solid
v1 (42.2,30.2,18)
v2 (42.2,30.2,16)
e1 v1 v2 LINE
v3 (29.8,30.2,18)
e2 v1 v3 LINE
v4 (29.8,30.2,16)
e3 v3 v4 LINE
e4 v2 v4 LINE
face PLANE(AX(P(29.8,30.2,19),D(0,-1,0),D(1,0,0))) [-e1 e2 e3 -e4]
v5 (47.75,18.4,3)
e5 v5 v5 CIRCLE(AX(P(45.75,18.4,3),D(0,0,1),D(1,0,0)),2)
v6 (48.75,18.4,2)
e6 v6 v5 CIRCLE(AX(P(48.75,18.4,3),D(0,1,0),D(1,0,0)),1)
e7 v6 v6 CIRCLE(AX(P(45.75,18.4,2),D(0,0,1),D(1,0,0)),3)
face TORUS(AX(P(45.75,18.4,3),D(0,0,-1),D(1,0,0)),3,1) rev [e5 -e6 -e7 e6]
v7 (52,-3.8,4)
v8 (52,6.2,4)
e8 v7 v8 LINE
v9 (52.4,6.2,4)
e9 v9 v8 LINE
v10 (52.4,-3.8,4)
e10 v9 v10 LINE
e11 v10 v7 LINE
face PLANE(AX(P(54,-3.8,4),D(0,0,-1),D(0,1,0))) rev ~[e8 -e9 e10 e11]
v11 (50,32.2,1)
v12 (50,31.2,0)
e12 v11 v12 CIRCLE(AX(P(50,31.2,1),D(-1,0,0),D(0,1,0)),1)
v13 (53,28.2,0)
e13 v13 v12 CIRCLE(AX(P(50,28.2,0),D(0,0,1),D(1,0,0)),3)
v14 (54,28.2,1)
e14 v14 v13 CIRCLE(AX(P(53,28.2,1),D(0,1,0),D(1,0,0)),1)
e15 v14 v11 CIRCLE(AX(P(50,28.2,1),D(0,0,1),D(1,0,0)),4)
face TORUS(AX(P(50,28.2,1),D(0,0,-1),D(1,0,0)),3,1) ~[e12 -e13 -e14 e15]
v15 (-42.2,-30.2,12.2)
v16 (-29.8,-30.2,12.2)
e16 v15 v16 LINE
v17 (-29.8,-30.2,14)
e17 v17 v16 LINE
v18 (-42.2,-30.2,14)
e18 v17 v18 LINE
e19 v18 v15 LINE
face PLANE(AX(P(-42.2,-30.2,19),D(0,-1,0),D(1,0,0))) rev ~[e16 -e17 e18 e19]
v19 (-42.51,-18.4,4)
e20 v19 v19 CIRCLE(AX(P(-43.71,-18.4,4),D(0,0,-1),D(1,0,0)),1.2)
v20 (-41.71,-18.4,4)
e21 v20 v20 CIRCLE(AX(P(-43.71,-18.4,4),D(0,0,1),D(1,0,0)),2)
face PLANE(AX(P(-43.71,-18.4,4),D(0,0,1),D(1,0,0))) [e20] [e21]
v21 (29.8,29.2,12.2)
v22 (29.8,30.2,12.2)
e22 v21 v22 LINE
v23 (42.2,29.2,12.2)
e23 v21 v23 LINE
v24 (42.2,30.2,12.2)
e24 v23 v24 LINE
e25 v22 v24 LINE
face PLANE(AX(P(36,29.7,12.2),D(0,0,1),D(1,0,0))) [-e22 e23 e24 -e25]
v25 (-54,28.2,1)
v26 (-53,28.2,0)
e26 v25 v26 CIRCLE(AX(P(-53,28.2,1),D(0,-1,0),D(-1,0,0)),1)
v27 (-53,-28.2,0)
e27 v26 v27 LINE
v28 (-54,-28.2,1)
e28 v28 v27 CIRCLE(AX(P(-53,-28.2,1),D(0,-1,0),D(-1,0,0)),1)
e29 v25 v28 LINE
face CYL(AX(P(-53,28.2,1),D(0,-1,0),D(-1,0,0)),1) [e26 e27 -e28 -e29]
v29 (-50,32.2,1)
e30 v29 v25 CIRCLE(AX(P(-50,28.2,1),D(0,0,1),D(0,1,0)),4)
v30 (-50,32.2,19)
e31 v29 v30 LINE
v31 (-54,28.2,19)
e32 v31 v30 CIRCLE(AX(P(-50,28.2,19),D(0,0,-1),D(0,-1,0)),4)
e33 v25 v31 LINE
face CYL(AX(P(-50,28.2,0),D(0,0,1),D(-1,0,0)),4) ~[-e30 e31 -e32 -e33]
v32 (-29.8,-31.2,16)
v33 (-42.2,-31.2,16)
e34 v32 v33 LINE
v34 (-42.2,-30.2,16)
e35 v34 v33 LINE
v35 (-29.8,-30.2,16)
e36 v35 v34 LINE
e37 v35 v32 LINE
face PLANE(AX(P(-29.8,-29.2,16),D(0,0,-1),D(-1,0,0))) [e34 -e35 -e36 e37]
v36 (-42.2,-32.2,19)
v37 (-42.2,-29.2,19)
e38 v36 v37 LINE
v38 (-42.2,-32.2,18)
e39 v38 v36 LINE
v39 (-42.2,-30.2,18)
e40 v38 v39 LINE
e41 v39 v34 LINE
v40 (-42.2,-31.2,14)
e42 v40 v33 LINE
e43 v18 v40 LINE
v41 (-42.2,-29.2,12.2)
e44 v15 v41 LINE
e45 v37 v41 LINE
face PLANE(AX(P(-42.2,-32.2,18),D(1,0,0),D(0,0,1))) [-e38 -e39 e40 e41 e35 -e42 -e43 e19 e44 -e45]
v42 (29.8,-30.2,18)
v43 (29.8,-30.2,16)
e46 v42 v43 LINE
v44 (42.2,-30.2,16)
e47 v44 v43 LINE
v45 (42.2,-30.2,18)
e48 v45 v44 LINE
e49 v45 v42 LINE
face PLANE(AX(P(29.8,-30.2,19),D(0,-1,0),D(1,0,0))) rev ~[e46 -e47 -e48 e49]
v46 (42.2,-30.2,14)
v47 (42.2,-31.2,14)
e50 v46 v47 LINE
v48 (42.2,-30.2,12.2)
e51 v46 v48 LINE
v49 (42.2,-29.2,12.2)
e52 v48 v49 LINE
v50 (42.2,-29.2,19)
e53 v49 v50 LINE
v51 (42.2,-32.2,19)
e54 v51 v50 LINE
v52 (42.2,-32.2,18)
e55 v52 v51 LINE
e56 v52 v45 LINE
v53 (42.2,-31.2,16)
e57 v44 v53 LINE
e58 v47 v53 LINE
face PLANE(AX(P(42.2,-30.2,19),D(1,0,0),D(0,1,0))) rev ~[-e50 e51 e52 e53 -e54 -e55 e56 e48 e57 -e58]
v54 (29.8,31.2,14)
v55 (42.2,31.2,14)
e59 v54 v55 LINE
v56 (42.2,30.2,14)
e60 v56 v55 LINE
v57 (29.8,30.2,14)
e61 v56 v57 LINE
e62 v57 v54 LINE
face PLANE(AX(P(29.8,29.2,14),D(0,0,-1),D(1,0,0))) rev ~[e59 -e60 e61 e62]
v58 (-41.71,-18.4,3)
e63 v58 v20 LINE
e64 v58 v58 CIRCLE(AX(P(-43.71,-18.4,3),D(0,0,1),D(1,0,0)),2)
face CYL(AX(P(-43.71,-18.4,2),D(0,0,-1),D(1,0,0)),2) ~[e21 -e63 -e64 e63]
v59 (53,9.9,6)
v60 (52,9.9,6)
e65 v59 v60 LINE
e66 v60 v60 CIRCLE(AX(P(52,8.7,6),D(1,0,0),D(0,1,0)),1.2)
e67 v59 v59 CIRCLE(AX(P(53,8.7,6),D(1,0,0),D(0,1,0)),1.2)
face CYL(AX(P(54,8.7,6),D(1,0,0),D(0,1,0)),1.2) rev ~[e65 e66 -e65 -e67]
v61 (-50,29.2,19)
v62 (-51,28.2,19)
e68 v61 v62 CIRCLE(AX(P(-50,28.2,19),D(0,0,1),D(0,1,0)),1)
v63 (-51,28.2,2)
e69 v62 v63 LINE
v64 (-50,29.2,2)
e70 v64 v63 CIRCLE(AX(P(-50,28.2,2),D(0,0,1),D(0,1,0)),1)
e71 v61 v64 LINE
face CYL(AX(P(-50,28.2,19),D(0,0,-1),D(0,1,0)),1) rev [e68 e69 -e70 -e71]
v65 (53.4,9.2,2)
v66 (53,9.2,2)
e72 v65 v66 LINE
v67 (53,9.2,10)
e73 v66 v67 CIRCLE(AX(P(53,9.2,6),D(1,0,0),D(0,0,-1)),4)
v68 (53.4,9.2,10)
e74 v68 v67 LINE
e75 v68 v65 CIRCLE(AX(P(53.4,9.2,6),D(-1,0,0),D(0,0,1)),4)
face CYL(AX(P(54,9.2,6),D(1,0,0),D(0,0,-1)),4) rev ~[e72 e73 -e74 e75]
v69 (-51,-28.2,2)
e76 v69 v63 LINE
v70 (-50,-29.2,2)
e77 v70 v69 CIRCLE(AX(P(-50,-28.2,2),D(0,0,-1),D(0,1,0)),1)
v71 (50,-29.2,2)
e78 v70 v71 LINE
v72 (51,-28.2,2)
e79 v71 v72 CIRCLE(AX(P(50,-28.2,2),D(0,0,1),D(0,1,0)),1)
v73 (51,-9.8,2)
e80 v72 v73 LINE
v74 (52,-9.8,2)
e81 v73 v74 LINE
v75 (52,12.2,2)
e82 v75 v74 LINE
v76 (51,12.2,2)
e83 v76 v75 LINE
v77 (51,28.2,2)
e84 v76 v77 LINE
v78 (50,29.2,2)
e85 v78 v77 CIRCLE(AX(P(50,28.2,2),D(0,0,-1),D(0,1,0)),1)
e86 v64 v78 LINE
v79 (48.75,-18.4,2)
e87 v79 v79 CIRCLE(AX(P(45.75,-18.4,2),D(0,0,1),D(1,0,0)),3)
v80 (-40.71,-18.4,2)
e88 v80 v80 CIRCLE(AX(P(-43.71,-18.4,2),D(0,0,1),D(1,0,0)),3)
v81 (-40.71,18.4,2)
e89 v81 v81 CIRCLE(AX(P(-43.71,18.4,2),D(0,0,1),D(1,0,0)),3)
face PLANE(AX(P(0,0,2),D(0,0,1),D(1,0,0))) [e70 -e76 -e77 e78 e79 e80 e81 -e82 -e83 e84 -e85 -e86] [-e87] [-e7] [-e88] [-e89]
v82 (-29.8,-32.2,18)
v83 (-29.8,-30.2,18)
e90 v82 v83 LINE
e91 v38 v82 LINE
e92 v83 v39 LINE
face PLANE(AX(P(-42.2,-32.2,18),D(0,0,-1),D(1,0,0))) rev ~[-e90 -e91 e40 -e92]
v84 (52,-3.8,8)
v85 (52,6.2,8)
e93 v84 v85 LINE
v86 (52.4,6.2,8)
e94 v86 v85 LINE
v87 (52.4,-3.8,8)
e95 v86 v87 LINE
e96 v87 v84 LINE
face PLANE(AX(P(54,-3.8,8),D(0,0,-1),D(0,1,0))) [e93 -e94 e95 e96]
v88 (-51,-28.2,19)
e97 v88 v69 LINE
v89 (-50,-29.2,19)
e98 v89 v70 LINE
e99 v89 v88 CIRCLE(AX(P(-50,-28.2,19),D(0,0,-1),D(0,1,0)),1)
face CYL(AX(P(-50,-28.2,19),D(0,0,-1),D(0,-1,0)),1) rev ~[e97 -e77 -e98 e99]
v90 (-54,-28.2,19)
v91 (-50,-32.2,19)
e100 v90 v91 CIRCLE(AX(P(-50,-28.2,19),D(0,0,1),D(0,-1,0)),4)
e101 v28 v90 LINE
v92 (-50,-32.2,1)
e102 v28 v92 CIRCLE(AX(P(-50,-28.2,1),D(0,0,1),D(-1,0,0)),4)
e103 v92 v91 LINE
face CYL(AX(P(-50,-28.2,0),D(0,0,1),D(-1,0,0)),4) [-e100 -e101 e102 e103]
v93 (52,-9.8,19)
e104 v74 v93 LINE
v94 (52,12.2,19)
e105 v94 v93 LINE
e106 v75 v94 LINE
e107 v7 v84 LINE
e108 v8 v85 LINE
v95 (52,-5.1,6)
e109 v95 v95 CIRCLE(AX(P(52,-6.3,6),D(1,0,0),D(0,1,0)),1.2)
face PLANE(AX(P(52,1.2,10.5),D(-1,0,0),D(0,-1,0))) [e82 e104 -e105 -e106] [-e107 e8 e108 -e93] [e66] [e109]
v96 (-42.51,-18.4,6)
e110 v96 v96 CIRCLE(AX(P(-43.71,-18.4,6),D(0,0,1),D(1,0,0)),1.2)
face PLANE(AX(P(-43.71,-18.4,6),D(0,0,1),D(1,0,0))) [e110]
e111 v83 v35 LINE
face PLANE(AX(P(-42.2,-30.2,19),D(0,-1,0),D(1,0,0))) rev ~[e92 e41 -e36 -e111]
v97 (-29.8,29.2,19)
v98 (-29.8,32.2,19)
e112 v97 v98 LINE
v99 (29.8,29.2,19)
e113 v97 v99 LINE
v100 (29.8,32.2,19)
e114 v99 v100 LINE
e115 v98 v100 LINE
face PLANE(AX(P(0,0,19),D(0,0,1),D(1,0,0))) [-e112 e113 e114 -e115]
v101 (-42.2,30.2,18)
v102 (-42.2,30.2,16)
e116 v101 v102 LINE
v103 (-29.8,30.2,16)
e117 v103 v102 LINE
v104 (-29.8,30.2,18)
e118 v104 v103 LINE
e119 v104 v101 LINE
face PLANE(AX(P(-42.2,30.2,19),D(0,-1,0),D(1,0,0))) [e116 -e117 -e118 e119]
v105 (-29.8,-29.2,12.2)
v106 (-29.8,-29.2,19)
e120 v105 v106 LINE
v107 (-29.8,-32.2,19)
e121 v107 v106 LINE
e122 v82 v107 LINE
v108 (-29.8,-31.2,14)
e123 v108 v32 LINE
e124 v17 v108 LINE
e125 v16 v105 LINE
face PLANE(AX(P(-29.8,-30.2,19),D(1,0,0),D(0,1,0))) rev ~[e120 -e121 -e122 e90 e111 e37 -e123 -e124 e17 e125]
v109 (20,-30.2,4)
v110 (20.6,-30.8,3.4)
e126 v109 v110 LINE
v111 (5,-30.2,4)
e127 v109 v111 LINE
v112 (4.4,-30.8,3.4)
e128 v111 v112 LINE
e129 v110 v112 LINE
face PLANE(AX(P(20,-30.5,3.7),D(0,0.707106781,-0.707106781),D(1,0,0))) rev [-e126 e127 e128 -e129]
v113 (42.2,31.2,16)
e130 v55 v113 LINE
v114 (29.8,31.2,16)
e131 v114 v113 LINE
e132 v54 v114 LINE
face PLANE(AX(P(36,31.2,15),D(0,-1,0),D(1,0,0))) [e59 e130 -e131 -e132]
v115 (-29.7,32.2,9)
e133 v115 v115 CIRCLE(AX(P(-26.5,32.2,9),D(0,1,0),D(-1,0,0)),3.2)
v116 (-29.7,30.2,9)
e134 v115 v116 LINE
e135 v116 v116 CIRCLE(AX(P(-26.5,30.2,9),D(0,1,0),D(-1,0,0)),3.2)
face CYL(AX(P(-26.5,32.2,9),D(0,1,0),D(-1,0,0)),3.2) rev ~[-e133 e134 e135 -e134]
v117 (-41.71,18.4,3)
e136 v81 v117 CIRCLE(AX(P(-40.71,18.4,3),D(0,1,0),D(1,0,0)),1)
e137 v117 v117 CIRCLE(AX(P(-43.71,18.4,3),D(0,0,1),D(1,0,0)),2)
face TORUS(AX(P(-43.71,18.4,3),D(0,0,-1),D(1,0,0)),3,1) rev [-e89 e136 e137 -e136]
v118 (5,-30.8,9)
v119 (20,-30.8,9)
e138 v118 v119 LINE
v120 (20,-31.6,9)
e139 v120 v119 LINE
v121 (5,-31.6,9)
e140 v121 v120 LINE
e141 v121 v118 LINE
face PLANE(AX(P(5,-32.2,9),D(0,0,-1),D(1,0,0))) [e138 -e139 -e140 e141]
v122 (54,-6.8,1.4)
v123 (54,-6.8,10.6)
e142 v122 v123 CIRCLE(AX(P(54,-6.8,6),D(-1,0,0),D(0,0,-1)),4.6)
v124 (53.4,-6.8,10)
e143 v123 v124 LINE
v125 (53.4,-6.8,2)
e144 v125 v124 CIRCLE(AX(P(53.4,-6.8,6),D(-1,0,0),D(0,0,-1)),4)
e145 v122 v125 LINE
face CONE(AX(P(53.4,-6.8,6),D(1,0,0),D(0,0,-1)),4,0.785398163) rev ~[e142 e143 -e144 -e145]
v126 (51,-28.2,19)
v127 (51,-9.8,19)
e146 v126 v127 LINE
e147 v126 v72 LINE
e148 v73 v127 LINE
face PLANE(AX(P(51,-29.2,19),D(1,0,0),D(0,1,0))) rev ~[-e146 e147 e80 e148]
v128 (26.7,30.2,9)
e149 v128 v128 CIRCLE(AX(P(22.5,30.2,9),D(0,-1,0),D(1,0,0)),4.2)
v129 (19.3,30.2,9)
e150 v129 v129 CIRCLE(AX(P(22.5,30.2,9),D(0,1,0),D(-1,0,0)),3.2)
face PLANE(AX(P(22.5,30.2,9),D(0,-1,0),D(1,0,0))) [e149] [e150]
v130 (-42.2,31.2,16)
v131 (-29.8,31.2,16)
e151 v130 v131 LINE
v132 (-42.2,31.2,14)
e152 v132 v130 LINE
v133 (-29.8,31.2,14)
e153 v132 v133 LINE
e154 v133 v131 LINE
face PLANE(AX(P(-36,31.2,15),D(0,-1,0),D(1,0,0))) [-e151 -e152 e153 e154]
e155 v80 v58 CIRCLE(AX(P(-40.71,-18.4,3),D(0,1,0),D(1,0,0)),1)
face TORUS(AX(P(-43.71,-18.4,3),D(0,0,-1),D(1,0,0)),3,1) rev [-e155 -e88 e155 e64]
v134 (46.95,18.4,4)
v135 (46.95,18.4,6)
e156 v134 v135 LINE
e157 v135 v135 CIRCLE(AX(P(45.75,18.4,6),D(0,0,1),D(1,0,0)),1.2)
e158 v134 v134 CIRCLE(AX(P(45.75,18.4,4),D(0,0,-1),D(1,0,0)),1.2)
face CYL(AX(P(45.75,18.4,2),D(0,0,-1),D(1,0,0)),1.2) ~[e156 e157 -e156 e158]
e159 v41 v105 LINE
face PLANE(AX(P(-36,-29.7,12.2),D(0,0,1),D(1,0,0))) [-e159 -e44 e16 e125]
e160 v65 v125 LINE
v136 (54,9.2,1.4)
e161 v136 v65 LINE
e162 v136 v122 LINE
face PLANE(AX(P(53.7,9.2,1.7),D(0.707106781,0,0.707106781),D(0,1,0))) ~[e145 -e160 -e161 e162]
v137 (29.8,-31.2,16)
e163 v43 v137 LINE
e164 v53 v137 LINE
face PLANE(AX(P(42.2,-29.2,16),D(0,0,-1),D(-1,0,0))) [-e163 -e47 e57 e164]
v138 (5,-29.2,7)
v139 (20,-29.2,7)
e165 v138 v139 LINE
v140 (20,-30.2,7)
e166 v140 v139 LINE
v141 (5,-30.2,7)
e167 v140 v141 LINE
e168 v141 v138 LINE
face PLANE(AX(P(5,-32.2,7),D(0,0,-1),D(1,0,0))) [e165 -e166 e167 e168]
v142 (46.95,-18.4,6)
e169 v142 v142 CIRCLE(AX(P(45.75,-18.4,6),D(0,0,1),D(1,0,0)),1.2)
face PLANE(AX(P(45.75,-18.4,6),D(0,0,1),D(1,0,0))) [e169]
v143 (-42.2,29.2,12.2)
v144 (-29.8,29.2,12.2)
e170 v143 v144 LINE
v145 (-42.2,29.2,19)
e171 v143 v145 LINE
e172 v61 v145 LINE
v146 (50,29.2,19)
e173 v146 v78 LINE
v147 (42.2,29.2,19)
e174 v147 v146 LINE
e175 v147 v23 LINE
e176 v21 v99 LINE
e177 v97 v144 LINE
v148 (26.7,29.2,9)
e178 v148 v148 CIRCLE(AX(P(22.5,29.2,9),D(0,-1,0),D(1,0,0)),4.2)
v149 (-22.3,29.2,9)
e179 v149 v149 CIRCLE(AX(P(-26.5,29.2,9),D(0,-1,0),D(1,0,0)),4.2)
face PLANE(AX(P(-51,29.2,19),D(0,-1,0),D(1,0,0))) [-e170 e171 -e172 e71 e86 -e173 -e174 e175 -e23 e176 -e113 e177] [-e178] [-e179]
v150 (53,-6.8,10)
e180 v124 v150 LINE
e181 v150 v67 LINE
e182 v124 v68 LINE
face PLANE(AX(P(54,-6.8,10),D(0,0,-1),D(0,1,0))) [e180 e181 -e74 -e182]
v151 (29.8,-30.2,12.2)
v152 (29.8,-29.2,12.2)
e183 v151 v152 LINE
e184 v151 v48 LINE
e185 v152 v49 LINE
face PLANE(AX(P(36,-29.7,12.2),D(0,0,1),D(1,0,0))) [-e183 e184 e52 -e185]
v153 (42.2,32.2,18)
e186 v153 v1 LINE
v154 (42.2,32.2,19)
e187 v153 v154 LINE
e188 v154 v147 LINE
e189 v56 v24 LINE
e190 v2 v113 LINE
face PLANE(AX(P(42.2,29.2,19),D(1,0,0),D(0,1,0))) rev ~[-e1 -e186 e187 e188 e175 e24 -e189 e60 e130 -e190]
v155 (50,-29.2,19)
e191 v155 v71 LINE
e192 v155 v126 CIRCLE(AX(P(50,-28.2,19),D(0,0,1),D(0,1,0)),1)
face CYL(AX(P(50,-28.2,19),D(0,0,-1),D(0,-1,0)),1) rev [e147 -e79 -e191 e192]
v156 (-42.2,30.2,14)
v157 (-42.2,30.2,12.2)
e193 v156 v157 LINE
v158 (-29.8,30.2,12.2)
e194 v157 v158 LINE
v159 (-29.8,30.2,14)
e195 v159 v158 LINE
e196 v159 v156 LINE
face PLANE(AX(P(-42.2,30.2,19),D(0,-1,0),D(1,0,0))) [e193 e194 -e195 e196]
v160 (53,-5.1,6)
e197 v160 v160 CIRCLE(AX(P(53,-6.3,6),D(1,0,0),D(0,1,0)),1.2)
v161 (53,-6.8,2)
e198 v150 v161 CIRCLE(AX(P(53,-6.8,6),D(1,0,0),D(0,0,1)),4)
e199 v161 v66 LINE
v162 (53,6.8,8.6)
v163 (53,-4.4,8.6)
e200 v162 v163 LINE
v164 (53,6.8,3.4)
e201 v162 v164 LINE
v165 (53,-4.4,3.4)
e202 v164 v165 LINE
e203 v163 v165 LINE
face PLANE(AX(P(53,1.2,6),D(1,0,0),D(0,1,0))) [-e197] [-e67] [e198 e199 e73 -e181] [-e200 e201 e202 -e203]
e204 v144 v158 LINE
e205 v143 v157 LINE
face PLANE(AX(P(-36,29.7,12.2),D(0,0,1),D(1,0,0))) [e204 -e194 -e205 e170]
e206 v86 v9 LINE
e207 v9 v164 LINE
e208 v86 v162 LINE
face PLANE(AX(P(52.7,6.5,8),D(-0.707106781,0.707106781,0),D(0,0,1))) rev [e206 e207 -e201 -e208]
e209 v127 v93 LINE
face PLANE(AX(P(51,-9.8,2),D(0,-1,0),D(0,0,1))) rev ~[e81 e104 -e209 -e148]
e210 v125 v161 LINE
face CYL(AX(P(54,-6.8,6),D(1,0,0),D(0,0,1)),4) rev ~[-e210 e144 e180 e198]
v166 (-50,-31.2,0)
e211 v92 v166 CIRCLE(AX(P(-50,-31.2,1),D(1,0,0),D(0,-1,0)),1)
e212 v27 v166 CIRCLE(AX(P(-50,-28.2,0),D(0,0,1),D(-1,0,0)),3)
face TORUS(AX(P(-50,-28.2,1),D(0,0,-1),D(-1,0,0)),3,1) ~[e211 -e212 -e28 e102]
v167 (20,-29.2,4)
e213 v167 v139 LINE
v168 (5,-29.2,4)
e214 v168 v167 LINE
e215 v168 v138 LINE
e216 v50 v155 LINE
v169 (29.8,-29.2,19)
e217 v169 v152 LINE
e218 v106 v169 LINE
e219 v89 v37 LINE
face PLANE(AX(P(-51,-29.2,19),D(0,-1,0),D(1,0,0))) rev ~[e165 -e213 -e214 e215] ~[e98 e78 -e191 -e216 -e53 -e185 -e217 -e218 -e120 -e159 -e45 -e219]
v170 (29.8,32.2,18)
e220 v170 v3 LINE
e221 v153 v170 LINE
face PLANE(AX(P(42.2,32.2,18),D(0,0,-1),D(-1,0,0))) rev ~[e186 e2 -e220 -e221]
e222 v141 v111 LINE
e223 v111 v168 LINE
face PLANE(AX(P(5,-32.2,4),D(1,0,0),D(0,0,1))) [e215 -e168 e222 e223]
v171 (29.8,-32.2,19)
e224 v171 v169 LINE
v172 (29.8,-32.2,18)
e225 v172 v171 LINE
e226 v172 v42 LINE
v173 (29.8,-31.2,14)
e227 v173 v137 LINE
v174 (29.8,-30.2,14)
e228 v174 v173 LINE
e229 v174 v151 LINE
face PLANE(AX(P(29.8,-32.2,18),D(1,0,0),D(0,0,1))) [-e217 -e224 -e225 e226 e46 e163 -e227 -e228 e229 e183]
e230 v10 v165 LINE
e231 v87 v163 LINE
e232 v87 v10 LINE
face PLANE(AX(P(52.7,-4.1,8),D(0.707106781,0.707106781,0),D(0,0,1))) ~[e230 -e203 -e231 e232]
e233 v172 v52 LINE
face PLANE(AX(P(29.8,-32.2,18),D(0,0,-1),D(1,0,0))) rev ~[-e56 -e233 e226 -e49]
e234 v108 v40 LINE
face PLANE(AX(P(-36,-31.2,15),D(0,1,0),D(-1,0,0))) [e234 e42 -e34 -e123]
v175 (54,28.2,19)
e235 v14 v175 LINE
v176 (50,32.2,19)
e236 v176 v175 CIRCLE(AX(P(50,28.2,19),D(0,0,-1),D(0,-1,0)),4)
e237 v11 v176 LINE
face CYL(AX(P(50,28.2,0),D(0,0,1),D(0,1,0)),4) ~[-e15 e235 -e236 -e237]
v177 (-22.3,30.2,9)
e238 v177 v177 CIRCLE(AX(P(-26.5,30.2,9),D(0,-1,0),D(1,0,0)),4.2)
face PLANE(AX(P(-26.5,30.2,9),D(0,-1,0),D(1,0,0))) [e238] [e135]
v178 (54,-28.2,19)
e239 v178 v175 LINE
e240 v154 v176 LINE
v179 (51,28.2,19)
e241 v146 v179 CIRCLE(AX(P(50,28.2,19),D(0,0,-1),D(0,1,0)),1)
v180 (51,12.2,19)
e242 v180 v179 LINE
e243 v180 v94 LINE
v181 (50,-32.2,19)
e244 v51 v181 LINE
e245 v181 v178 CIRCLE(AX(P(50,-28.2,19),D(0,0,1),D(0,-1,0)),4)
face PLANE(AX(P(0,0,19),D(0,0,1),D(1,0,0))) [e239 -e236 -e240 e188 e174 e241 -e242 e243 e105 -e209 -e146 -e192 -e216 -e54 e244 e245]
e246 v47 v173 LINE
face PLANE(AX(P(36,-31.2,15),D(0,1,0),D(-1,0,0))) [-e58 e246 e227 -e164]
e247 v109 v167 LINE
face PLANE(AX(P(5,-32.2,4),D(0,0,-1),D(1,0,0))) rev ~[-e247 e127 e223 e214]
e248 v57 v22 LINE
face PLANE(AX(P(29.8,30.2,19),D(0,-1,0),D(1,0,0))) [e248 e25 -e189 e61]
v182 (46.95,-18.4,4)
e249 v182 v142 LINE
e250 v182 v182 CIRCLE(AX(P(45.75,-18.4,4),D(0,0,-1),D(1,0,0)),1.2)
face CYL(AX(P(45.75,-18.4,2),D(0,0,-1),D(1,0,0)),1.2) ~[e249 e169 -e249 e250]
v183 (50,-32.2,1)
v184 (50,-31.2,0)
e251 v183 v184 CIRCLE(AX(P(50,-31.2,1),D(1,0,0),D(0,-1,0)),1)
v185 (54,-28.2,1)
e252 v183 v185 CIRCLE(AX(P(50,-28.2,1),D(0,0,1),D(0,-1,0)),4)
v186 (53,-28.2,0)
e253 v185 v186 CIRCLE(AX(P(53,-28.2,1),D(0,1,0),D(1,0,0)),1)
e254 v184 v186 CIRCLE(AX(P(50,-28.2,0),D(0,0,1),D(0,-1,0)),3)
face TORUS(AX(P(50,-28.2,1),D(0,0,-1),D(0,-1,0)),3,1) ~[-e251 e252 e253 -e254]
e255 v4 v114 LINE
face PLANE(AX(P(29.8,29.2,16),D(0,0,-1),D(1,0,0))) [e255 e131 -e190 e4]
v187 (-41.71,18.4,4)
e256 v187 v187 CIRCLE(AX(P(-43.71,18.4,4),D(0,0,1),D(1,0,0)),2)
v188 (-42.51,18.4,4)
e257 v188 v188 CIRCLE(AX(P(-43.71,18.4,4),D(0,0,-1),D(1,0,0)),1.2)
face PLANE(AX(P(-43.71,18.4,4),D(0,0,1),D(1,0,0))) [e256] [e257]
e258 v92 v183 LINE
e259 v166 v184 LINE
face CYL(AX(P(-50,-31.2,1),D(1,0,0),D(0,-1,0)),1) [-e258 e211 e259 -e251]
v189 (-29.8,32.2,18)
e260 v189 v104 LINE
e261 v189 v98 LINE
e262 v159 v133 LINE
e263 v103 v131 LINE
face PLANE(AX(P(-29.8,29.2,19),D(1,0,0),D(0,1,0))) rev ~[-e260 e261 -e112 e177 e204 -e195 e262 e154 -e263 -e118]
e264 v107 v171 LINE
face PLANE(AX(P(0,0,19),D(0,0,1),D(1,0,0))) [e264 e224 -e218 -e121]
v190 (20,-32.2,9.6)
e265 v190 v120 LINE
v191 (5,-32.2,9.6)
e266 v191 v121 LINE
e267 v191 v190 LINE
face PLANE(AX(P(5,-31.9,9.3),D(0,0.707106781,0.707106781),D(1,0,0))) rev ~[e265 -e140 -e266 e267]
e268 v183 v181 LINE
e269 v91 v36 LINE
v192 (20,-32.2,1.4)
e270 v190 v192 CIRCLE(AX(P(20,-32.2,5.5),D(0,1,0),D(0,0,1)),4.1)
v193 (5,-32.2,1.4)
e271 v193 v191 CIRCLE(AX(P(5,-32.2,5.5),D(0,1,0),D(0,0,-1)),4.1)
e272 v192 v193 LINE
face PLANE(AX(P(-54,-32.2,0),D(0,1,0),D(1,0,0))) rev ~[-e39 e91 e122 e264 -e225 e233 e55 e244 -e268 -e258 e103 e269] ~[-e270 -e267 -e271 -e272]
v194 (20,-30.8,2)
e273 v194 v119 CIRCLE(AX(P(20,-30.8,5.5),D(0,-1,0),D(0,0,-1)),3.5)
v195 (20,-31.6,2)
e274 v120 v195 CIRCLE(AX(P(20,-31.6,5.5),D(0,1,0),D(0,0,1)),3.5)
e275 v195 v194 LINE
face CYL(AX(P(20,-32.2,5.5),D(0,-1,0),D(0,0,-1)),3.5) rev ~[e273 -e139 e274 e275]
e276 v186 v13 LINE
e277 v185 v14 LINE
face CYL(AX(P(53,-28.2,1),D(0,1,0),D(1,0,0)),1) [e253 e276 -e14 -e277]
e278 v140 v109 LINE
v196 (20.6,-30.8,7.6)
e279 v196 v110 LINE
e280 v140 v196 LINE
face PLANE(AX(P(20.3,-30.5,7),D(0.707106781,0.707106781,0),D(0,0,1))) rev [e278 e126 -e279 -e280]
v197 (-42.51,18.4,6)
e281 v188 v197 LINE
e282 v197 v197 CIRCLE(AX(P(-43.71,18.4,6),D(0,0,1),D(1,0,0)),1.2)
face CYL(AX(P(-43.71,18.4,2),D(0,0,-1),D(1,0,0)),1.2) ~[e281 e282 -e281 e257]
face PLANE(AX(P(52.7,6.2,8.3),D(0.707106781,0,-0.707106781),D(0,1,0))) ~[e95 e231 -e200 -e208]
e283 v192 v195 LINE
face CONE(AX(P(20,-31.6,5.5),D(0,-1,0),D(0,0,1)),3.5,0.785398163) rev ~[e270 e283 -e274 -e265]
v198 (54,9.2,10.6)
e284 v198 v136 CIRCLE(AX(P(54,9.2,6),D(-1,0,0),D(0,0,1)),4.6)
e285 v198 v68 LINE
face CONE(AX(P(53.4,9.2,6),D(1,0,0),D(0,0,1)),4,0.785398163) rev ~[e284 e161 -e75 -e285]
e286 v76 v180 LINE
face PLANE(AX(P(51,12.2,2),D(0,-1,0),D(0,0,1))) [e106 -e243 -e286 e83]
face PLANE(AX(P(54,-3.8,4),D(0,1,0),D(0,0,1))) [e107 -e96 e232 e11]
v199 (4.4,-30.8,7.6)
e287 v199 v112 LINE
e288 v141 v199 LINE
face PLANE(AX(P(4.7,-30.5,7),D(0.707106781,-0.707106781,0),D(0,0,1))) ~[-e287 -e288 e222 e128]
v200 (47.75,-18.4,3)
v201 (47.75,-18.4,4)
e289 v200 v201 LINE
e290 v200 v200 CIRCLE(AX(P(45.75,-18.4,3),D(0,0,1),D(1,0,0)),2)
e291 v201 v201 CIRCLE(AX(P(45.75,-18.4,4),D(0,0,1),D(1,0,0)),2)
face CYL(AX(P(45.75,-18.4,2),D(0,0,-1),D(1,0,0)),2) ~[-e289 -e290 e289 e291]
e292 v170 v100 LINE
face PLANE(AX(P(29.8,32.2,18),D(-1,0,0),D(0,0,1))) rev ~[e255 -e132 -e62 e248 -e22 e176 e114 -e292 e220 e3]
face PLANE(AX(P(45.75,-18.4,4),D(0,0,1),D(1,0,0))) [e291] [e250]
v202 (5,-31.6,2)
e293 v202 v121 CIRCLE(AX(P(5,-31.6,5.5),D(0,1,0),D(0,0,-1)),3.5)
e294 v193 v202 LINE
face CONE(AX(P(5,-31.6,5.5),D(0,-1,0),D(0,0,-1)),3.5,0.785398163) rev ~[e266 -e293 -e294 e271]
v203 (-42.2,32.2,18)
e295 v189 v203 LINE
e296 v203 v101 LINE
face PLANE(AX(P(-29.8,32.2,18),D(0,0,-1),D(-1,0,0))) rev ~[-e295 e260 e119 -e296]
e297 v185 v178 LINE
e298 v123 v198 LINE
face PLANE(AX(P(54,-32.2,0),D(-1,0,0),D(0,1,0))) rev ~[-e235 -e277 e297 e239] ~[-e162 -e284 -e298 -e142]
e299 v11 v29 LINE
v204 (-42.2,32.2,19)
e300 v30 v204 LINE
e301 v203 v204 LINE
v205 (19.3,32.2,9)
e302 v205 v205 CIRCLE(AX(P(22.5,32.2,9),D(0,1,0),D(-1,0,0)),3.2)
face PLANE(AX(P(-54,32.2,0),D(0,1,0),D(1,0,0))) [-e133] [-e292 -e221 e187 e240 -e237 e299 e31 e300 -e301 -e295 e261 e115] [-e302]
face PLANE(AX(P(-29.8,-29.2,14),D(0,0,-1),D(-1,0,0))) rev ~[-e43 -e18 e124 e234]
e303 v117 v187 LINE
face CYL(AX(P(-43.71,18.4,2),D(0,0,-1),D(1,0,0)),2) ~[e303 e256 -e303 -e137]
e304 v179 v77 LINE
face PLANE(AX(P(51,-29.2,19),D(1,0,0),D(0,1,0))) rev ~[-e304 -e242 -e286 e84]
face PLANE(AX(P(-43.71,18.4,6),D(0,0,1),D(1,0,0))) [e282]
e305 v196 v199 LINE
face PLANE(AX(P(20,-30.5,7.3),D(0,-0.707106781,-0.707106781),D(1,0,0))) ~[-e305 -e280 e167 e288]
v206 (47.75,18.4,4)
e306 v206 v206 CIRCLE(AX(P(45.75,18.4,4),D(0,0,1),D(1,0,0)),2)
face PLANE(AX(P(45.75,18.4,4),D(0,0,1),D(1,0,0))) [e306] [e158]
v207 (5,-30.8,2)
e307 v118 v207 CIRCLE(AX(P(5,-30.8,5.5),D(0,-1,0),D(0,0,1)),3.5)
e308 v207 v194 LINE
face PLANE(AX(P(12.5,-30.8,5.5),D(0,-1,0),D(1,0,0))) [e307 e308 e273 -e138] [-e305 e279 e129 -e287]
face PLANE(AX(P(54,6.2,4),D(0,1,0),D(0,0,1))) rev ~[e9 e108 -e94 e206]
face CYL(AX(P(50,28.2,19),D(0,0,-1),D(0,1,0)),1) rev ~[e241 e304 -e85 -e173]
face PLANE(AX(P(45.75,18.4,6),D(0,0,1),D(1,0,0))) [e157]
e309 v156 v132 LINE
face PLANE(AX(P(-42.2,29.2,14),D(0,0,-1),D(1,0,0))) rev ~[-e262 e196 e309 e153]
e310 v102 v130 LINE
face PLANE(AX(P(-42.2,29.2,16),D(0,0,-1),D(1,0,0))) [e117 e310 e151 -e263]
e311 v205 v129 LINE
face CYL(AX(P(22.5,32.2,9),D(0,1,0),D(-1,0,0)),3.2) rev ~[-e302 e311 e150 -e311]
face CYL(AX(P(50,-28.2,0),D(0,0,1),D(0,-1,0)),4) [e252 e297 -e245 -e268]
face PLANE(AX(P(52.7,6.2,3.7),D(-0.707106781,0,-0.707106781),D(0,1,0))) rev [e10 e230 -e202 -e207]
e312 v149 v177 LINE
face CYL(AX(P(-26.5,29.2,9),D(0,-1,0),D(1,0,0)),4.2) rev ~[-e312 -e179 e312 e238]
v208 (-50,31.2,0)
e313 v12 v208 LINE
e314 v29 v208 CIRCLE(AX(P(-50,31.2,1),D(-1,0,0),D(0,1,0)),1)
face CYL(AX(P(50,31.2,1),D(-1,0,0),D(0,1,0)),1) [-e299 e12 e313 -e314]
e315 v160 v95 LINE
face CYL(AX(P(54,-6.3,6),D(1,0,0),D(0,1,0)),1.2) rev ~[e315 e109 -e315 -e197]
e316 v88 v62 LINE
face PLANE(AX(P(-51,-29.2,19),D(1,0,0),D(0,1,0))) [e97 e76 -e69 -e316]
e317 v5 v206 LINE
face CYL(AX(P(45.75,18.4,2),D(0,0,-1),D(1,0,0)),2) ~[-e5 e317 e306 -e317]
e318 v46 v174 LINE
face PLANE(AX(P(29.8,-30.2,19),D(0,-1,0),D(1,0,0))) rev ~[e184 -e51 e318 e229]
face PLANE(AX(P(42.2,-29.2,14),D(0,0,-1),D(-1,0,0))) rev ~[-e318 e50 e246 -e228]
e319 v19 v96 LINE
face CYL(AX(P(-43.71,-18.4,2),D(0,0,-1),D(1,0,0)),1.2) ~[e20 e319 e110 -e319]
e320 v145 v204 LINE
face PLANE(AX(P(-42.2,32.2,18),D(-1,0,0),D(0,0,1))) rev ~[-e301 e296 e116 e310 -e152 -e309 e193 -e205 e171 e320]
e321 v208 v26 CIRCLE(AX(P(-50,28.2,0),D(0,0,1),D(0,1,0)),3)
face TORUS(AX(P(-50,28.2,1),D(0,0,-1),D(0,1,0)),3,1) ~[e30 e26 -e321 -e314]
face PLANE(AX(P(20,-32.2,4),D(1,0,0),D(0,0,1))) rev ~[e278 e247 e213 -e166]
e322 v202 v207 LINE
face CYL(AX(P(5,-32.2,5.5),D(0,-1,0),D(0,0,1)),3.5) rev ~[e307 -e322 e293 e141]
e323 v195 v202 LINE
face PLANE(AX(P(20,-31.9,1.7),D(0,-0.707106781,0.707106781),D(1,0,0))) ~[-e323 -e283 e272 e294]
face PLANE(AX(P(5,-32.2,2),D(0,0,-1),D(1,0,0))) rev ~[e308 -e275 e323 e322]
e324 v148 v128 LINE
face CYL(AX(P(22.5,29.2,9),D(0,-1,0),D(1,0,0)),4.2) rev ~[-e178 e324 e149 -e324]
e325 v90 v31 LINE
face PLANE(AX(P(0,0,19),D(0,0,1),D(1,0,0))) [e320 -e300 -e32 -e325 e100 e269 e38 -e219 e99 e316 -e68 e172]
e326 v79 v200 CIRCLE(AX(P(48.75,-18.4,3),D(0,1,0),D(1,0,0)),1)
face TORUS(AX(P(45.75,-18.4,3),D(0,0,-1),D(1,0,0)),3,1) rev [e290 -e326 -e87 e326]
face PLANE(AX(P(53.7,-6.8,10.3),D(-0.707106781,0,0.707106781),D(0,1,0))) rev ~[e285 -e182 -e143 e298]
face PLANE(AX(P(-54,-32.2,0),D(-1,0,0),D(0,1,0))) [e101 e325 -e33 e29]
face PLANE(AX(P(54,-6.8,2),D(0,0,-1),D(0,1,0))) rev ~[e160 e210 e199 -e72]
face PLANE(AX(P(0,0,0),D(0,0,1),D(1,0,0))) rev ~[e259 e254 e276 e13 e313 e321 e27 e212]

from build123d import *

# Parameters (mm, degrees)
SKETCH_W        = 108
SKETCH_H        = 64.4
PAD_DEPTH       = 19
SKETCH001_W     = 102
SKETCH001_H     = 58.4
POCKET_DEPTH    = 17
SKETCH002_R     = 2
PAD001_DEPTH    = 2
SKETCH003_R     = 1.2
PAD002_DEPTH    = 4
SKETCH004_R     = 3.2
SKETCH004_W     = 12.4
SKETCH004_H     = 1
POCKET001_DEPTH = 3
SKETCH005_W     = 12.4
SKETCH005_H     = 1
SKETCH005_W_2   = 15
SKETCH005_H_2   = 3
POCKET002_DEPTH = 3
SKETCH006_R     = 1.2
SKETCH006_W     = 10
SKETCH006_H     = 4
POCKET003_DEPTH = 3
SKETCH007_W     = 12.4
SKETCH007_H     = 2
POCKET004_DEPTH = 2
SKETCH008_W     = 12.4
SKETCH008_H     = 2
POCKET005_DEPTH = 2
SKETCH009_W     = 12.4
SKETCH009_H     = 1
POCKET006_DEPTH = 6.8
POCKET007_DEPTH = 1.4
POCKET008_DEPTH = 1
SKETCH012_R     = 4.2
POCKET009_DEPTH = 1
SKETCH013_W     = 22
SKETCH013_H     = 17
POCKET010_DEPTH = 1
FILLET_R        = 4
FILLET001_R     = 1
CHAMFER_SIZE    = 0.6
FILLET002_R     = 1
FILLET003_R     = 1


with BuildPart() as part:
    # Sketch → Pad (new body)
    with BuildSketch(Plane.XY):
        Rectangle(SKETCH_W, SKETCH_H)
    extrude(amount=PAD_DEPTH)

    # Sketch001 (on Face6 of Pad) → Pocket (cut)
    with BuildSketch(Plane.XY.offset(19)):
        Rectangle(SKETCH001_W, SKETCH001_H)
    extrude(amount=-POCKET_DEPTH, mode=Mode.SUBTRACT)

    # Sketch002 (on Face11 of Pocket) → Pad001 (join)
    with BuildSketch(Plane.XY.offset(2)):
        with Locations((-43.71, 18.4)):
            Circle(SKETCH002_R)
        with Locations((45.75, 18.4)):
            Circle(SKETCH002_R)
        with Locations((45.75, -18.4)):
            Circle(SKETCH002_R)
        with Locations((-43.71, -18.4)):
            Circle(SKETCH002_R)
    extrude(amount=PAD001_DEPTH)

    # Sketch003 (on Face11 of Pad001) → Pad002 (join)
    with BuildSketch(Plane.XY.offset(2)):
        with Locations((-43.71, 18.4)):
            Circle(SKETCH003_R)
        with Locations((45.75, 18.4)):
            Circle(SKETCH003_R)
        with Locations((45.75, -18.4)):
            Circle(SKETCH003_R)
        with Locations((-43.71, -18.4)):
            Circle(SKETCH003_R)
    extrude(amount=PAD002_DEPTH)

    # Sketch004 (on Face1 of Pad002) → Pocket001 (cut)
    with BuildSketch(Plane(origin=(0, 32.2, 0), x_dir=(-1, 0, 0), z_dir=(0, 1, 0))):
        with Locations((-22.5, 9)):
            Circle(SKETCH004_R)
        with Locations((26.5, 9)):
            Circle(SKETCH004_R)
        with Locations((-36, 18.5)):
            Rectangle(SKETCH004_W, SKETCH004_H)
        with Locations((36, 18.5)):
            Rectangle(SKETCH004_W, SKETCH004_H)
    extrude(amount=-POCKET001_DEPTH, mode=Mode.SUBTRACT)

    # Sketch005 (on Face15 of Pocket001) → Pocket002 (cut)
    with BuildSketch(Plane.XZ.offset(32.2)):
        with Locations((-36, 18.5)):
            Rectangle(SKETCH005_W, SKETCH005_H)
        with Locations((36, 18.5)):
            Rectangle(SKETCH005_W, SKETCH005_H)
        with Locations((12.5, 5.5)):
            Rectangle(SKETCH005_W_2, SKETCH005_H_2)
    extrude(amount=-POCKET002_DEPTH, mode=Mode.SUBTRACT)

    # Sketch006 (on Face3 of Pocket002) → Pocket003 (cut)
    with BuildSketch(Plane.YZ.offset(54)):
        with Locations((-6.3, 6)):
            Circle(SKETCH006_R)
        with Locations((8.7, 6)):
            Circle(SKETCH006_R)
        with Locations((1.2, 6)):
            Rectangle(SKETCH006_W, SKETCH006_H)
    extrude(amount=-POCKET003_DEPTH, mode=Mode.SUBTRACT)

    # Sketch007 (on Face23 of Pocket003) → Pocket004 (cut)
    with BuildSketch(Plane.XZ.offset(-29.2)):
        with Locations((-36, 15)):
            Rectangle(SKETCH007_W, SKETCH007_H)
        with Locations((36, 15)):
            Rectangle(SKETCH007_W, SKETCH007_H)
    extrude(amount=-POCKET004_DEPTH, mode=Mode.SUBTRACT)

    # Sketch008 (on Face25 of Pocket004) → Pocket005 (cut)
    with BuildSketch(Plane(origin=(0, -29.2, 0), x_dir=(-1, 0, 0), z_dir=(0, 1, 0))):
        with Locations((-36, 15)):
            Rectangle(SKETCH008_W, SKETCH008_H)
        with Locations((36, 15)):
            Rectangle(SKETCH008_W, SKETCH008_H)
    extrude(amount=-POCKET005_DEPTH, mode=Mode.SUBTRACT)

    # Sketch009 (on Face31 of Pocket005) → Pocket006 (cut)
    with BuildSketch(Plane.XY.offset(19)):
        with Locations((-36, 29.7)):
            Rectangle(SKETCH009_W, SKETCH009_H)
        with Locations((36, 29.7)):
            Rectangle(SKETCH009_W, SKETCH009_H)
        with Locations((36, -29.7)):
            Rectangle(SKETCH009_W, SKETCH009_H)
        with Locations((-36, -29.7)):
            Rectangle(SKETCH009_W, SKETCH009_H)
    extrude(amount=-POCKET006_DEPTH, mode=Mode.SUBTRACT)

    # Sketch010 (on Face16 of Pocket006) → Pocket007 (cut)
    with BuildSketch(Plane.XZ.offset(32.2)):
        with BuildLine():
            ThreePointArc((5, 9), (1.5, 5.5), (5, 2))
            Line((5, 2), (20, 2))
            ThreePointArc((20, 2), (23.5, 5.5), (20, 9))
            Line((5, 9), (20, 9))
        make_face()
    extrude(amount=-POCKET007_DEPTH, mode=Mode.SUBTRACT)

    # Sketch011 (on Face3 of Pocket007) → Pocket008 (cut)
    with BuildSketch(Plane.YZ.offset(54)):
        with BuildLine():
            ThreePointArc((-6.8, 10), (-10.8, 6), (-6.8, 2))
            Line((-6.8, 2), (9.2, 2))
            ThreePointArc((9.2, 2), (13.2, 6), (9.2, 10))
            Line((-6.8, 10), (9.2, 10))
        make_face()
    extrude(amount=-POCKET008_DEPTH, mode=Mode.SUBTRACT)

    # Sketch012 → Pocket009 (cut)
    with BuildSketch(Plane.XZ.offset(-29.2)):
        with Locations((-26.5, 9)):
            Circle(SKETCH012_R)
        with Locations((22.5, 9)):
            Circle(SKETCH012_R)
    extrude(amount=-POCKET009_DEPTH, mode=Mode.SUBTRACT)

    # Sketch013 (on Face25 of Pocket009) → Pocket010 (cut)
    with BuildSketch(Plane(origin=(51, 0, 0), x_dir=(0, -1, 0), z_dir=(-1, 0, 0))):
        with Locations((-1.2, 10.5)):
            Rectangle(SKETCH013_W, SKETCH013_H)
    extrude(amount=-POCKET010_DEPTH, mode=Mode.SUBTRACT)

    # Fillet
    fillet_edges = [part.edges().sort_by_distance(p)[0] for p in [
        (54, 32.2, 9.5),
        (-54, 32.2, 9.5),
        (-54, -32.2, 9.5),
        (54, -32.2, 9.5),
    ]]
    fillet(fillet_edges, radius=FILLET_R)

    # Fillet001
    fillet001_edges = [part.edges().sort_by_distance(p)[0] for p in [
        (-51, 29.2, 10.5),
        (-51, -29.2, 10.5),
        (51, -29.2, 10.5),
        (51, 29.2, 10.5),
    ]]
    fillet(fillet001_edges, radius=FILLET001_R)

    # Chamfer
    chamfer_edges = [part.edges().sort_by_distance(p)[0] for p in [
        (12.5, -32.2, 9),
        (54, 1.2, 10),
        (12.5, -30.8, 7),
        (53, -3.8, 6),
        (53, 1.2, 8),
        (5, -30.8, 5.5),
        (20, -30.8, 5.5),
        (12.5, -30.8, 4),
        (53, 6.2, 6),
        (53, 1.2, 4),
    ]]
    chamfer(chamfer_edges, length=CHAMFER_SIZE)

    # Fillet002
    fillet002_edges = [part.edges().sort_by_distance(p)[0] for p in [
        (0, -32.2, 0),
    ]]
    fillet(fillet002_edges, radius=FILLET002_R)

    # Fillet003
    fillet003_edges = [part.edges().sort_by_distance(p)[0] for p in [
        (43.75, 18.4, 2),
        (43.75, -18.4, 2),
        (-45.71, -18.4, 2),
        (-45.71, 18.4, 2),
    ]]
    fillet(fillet003_edges, radius=FILLET003_R)


solid = part.part
